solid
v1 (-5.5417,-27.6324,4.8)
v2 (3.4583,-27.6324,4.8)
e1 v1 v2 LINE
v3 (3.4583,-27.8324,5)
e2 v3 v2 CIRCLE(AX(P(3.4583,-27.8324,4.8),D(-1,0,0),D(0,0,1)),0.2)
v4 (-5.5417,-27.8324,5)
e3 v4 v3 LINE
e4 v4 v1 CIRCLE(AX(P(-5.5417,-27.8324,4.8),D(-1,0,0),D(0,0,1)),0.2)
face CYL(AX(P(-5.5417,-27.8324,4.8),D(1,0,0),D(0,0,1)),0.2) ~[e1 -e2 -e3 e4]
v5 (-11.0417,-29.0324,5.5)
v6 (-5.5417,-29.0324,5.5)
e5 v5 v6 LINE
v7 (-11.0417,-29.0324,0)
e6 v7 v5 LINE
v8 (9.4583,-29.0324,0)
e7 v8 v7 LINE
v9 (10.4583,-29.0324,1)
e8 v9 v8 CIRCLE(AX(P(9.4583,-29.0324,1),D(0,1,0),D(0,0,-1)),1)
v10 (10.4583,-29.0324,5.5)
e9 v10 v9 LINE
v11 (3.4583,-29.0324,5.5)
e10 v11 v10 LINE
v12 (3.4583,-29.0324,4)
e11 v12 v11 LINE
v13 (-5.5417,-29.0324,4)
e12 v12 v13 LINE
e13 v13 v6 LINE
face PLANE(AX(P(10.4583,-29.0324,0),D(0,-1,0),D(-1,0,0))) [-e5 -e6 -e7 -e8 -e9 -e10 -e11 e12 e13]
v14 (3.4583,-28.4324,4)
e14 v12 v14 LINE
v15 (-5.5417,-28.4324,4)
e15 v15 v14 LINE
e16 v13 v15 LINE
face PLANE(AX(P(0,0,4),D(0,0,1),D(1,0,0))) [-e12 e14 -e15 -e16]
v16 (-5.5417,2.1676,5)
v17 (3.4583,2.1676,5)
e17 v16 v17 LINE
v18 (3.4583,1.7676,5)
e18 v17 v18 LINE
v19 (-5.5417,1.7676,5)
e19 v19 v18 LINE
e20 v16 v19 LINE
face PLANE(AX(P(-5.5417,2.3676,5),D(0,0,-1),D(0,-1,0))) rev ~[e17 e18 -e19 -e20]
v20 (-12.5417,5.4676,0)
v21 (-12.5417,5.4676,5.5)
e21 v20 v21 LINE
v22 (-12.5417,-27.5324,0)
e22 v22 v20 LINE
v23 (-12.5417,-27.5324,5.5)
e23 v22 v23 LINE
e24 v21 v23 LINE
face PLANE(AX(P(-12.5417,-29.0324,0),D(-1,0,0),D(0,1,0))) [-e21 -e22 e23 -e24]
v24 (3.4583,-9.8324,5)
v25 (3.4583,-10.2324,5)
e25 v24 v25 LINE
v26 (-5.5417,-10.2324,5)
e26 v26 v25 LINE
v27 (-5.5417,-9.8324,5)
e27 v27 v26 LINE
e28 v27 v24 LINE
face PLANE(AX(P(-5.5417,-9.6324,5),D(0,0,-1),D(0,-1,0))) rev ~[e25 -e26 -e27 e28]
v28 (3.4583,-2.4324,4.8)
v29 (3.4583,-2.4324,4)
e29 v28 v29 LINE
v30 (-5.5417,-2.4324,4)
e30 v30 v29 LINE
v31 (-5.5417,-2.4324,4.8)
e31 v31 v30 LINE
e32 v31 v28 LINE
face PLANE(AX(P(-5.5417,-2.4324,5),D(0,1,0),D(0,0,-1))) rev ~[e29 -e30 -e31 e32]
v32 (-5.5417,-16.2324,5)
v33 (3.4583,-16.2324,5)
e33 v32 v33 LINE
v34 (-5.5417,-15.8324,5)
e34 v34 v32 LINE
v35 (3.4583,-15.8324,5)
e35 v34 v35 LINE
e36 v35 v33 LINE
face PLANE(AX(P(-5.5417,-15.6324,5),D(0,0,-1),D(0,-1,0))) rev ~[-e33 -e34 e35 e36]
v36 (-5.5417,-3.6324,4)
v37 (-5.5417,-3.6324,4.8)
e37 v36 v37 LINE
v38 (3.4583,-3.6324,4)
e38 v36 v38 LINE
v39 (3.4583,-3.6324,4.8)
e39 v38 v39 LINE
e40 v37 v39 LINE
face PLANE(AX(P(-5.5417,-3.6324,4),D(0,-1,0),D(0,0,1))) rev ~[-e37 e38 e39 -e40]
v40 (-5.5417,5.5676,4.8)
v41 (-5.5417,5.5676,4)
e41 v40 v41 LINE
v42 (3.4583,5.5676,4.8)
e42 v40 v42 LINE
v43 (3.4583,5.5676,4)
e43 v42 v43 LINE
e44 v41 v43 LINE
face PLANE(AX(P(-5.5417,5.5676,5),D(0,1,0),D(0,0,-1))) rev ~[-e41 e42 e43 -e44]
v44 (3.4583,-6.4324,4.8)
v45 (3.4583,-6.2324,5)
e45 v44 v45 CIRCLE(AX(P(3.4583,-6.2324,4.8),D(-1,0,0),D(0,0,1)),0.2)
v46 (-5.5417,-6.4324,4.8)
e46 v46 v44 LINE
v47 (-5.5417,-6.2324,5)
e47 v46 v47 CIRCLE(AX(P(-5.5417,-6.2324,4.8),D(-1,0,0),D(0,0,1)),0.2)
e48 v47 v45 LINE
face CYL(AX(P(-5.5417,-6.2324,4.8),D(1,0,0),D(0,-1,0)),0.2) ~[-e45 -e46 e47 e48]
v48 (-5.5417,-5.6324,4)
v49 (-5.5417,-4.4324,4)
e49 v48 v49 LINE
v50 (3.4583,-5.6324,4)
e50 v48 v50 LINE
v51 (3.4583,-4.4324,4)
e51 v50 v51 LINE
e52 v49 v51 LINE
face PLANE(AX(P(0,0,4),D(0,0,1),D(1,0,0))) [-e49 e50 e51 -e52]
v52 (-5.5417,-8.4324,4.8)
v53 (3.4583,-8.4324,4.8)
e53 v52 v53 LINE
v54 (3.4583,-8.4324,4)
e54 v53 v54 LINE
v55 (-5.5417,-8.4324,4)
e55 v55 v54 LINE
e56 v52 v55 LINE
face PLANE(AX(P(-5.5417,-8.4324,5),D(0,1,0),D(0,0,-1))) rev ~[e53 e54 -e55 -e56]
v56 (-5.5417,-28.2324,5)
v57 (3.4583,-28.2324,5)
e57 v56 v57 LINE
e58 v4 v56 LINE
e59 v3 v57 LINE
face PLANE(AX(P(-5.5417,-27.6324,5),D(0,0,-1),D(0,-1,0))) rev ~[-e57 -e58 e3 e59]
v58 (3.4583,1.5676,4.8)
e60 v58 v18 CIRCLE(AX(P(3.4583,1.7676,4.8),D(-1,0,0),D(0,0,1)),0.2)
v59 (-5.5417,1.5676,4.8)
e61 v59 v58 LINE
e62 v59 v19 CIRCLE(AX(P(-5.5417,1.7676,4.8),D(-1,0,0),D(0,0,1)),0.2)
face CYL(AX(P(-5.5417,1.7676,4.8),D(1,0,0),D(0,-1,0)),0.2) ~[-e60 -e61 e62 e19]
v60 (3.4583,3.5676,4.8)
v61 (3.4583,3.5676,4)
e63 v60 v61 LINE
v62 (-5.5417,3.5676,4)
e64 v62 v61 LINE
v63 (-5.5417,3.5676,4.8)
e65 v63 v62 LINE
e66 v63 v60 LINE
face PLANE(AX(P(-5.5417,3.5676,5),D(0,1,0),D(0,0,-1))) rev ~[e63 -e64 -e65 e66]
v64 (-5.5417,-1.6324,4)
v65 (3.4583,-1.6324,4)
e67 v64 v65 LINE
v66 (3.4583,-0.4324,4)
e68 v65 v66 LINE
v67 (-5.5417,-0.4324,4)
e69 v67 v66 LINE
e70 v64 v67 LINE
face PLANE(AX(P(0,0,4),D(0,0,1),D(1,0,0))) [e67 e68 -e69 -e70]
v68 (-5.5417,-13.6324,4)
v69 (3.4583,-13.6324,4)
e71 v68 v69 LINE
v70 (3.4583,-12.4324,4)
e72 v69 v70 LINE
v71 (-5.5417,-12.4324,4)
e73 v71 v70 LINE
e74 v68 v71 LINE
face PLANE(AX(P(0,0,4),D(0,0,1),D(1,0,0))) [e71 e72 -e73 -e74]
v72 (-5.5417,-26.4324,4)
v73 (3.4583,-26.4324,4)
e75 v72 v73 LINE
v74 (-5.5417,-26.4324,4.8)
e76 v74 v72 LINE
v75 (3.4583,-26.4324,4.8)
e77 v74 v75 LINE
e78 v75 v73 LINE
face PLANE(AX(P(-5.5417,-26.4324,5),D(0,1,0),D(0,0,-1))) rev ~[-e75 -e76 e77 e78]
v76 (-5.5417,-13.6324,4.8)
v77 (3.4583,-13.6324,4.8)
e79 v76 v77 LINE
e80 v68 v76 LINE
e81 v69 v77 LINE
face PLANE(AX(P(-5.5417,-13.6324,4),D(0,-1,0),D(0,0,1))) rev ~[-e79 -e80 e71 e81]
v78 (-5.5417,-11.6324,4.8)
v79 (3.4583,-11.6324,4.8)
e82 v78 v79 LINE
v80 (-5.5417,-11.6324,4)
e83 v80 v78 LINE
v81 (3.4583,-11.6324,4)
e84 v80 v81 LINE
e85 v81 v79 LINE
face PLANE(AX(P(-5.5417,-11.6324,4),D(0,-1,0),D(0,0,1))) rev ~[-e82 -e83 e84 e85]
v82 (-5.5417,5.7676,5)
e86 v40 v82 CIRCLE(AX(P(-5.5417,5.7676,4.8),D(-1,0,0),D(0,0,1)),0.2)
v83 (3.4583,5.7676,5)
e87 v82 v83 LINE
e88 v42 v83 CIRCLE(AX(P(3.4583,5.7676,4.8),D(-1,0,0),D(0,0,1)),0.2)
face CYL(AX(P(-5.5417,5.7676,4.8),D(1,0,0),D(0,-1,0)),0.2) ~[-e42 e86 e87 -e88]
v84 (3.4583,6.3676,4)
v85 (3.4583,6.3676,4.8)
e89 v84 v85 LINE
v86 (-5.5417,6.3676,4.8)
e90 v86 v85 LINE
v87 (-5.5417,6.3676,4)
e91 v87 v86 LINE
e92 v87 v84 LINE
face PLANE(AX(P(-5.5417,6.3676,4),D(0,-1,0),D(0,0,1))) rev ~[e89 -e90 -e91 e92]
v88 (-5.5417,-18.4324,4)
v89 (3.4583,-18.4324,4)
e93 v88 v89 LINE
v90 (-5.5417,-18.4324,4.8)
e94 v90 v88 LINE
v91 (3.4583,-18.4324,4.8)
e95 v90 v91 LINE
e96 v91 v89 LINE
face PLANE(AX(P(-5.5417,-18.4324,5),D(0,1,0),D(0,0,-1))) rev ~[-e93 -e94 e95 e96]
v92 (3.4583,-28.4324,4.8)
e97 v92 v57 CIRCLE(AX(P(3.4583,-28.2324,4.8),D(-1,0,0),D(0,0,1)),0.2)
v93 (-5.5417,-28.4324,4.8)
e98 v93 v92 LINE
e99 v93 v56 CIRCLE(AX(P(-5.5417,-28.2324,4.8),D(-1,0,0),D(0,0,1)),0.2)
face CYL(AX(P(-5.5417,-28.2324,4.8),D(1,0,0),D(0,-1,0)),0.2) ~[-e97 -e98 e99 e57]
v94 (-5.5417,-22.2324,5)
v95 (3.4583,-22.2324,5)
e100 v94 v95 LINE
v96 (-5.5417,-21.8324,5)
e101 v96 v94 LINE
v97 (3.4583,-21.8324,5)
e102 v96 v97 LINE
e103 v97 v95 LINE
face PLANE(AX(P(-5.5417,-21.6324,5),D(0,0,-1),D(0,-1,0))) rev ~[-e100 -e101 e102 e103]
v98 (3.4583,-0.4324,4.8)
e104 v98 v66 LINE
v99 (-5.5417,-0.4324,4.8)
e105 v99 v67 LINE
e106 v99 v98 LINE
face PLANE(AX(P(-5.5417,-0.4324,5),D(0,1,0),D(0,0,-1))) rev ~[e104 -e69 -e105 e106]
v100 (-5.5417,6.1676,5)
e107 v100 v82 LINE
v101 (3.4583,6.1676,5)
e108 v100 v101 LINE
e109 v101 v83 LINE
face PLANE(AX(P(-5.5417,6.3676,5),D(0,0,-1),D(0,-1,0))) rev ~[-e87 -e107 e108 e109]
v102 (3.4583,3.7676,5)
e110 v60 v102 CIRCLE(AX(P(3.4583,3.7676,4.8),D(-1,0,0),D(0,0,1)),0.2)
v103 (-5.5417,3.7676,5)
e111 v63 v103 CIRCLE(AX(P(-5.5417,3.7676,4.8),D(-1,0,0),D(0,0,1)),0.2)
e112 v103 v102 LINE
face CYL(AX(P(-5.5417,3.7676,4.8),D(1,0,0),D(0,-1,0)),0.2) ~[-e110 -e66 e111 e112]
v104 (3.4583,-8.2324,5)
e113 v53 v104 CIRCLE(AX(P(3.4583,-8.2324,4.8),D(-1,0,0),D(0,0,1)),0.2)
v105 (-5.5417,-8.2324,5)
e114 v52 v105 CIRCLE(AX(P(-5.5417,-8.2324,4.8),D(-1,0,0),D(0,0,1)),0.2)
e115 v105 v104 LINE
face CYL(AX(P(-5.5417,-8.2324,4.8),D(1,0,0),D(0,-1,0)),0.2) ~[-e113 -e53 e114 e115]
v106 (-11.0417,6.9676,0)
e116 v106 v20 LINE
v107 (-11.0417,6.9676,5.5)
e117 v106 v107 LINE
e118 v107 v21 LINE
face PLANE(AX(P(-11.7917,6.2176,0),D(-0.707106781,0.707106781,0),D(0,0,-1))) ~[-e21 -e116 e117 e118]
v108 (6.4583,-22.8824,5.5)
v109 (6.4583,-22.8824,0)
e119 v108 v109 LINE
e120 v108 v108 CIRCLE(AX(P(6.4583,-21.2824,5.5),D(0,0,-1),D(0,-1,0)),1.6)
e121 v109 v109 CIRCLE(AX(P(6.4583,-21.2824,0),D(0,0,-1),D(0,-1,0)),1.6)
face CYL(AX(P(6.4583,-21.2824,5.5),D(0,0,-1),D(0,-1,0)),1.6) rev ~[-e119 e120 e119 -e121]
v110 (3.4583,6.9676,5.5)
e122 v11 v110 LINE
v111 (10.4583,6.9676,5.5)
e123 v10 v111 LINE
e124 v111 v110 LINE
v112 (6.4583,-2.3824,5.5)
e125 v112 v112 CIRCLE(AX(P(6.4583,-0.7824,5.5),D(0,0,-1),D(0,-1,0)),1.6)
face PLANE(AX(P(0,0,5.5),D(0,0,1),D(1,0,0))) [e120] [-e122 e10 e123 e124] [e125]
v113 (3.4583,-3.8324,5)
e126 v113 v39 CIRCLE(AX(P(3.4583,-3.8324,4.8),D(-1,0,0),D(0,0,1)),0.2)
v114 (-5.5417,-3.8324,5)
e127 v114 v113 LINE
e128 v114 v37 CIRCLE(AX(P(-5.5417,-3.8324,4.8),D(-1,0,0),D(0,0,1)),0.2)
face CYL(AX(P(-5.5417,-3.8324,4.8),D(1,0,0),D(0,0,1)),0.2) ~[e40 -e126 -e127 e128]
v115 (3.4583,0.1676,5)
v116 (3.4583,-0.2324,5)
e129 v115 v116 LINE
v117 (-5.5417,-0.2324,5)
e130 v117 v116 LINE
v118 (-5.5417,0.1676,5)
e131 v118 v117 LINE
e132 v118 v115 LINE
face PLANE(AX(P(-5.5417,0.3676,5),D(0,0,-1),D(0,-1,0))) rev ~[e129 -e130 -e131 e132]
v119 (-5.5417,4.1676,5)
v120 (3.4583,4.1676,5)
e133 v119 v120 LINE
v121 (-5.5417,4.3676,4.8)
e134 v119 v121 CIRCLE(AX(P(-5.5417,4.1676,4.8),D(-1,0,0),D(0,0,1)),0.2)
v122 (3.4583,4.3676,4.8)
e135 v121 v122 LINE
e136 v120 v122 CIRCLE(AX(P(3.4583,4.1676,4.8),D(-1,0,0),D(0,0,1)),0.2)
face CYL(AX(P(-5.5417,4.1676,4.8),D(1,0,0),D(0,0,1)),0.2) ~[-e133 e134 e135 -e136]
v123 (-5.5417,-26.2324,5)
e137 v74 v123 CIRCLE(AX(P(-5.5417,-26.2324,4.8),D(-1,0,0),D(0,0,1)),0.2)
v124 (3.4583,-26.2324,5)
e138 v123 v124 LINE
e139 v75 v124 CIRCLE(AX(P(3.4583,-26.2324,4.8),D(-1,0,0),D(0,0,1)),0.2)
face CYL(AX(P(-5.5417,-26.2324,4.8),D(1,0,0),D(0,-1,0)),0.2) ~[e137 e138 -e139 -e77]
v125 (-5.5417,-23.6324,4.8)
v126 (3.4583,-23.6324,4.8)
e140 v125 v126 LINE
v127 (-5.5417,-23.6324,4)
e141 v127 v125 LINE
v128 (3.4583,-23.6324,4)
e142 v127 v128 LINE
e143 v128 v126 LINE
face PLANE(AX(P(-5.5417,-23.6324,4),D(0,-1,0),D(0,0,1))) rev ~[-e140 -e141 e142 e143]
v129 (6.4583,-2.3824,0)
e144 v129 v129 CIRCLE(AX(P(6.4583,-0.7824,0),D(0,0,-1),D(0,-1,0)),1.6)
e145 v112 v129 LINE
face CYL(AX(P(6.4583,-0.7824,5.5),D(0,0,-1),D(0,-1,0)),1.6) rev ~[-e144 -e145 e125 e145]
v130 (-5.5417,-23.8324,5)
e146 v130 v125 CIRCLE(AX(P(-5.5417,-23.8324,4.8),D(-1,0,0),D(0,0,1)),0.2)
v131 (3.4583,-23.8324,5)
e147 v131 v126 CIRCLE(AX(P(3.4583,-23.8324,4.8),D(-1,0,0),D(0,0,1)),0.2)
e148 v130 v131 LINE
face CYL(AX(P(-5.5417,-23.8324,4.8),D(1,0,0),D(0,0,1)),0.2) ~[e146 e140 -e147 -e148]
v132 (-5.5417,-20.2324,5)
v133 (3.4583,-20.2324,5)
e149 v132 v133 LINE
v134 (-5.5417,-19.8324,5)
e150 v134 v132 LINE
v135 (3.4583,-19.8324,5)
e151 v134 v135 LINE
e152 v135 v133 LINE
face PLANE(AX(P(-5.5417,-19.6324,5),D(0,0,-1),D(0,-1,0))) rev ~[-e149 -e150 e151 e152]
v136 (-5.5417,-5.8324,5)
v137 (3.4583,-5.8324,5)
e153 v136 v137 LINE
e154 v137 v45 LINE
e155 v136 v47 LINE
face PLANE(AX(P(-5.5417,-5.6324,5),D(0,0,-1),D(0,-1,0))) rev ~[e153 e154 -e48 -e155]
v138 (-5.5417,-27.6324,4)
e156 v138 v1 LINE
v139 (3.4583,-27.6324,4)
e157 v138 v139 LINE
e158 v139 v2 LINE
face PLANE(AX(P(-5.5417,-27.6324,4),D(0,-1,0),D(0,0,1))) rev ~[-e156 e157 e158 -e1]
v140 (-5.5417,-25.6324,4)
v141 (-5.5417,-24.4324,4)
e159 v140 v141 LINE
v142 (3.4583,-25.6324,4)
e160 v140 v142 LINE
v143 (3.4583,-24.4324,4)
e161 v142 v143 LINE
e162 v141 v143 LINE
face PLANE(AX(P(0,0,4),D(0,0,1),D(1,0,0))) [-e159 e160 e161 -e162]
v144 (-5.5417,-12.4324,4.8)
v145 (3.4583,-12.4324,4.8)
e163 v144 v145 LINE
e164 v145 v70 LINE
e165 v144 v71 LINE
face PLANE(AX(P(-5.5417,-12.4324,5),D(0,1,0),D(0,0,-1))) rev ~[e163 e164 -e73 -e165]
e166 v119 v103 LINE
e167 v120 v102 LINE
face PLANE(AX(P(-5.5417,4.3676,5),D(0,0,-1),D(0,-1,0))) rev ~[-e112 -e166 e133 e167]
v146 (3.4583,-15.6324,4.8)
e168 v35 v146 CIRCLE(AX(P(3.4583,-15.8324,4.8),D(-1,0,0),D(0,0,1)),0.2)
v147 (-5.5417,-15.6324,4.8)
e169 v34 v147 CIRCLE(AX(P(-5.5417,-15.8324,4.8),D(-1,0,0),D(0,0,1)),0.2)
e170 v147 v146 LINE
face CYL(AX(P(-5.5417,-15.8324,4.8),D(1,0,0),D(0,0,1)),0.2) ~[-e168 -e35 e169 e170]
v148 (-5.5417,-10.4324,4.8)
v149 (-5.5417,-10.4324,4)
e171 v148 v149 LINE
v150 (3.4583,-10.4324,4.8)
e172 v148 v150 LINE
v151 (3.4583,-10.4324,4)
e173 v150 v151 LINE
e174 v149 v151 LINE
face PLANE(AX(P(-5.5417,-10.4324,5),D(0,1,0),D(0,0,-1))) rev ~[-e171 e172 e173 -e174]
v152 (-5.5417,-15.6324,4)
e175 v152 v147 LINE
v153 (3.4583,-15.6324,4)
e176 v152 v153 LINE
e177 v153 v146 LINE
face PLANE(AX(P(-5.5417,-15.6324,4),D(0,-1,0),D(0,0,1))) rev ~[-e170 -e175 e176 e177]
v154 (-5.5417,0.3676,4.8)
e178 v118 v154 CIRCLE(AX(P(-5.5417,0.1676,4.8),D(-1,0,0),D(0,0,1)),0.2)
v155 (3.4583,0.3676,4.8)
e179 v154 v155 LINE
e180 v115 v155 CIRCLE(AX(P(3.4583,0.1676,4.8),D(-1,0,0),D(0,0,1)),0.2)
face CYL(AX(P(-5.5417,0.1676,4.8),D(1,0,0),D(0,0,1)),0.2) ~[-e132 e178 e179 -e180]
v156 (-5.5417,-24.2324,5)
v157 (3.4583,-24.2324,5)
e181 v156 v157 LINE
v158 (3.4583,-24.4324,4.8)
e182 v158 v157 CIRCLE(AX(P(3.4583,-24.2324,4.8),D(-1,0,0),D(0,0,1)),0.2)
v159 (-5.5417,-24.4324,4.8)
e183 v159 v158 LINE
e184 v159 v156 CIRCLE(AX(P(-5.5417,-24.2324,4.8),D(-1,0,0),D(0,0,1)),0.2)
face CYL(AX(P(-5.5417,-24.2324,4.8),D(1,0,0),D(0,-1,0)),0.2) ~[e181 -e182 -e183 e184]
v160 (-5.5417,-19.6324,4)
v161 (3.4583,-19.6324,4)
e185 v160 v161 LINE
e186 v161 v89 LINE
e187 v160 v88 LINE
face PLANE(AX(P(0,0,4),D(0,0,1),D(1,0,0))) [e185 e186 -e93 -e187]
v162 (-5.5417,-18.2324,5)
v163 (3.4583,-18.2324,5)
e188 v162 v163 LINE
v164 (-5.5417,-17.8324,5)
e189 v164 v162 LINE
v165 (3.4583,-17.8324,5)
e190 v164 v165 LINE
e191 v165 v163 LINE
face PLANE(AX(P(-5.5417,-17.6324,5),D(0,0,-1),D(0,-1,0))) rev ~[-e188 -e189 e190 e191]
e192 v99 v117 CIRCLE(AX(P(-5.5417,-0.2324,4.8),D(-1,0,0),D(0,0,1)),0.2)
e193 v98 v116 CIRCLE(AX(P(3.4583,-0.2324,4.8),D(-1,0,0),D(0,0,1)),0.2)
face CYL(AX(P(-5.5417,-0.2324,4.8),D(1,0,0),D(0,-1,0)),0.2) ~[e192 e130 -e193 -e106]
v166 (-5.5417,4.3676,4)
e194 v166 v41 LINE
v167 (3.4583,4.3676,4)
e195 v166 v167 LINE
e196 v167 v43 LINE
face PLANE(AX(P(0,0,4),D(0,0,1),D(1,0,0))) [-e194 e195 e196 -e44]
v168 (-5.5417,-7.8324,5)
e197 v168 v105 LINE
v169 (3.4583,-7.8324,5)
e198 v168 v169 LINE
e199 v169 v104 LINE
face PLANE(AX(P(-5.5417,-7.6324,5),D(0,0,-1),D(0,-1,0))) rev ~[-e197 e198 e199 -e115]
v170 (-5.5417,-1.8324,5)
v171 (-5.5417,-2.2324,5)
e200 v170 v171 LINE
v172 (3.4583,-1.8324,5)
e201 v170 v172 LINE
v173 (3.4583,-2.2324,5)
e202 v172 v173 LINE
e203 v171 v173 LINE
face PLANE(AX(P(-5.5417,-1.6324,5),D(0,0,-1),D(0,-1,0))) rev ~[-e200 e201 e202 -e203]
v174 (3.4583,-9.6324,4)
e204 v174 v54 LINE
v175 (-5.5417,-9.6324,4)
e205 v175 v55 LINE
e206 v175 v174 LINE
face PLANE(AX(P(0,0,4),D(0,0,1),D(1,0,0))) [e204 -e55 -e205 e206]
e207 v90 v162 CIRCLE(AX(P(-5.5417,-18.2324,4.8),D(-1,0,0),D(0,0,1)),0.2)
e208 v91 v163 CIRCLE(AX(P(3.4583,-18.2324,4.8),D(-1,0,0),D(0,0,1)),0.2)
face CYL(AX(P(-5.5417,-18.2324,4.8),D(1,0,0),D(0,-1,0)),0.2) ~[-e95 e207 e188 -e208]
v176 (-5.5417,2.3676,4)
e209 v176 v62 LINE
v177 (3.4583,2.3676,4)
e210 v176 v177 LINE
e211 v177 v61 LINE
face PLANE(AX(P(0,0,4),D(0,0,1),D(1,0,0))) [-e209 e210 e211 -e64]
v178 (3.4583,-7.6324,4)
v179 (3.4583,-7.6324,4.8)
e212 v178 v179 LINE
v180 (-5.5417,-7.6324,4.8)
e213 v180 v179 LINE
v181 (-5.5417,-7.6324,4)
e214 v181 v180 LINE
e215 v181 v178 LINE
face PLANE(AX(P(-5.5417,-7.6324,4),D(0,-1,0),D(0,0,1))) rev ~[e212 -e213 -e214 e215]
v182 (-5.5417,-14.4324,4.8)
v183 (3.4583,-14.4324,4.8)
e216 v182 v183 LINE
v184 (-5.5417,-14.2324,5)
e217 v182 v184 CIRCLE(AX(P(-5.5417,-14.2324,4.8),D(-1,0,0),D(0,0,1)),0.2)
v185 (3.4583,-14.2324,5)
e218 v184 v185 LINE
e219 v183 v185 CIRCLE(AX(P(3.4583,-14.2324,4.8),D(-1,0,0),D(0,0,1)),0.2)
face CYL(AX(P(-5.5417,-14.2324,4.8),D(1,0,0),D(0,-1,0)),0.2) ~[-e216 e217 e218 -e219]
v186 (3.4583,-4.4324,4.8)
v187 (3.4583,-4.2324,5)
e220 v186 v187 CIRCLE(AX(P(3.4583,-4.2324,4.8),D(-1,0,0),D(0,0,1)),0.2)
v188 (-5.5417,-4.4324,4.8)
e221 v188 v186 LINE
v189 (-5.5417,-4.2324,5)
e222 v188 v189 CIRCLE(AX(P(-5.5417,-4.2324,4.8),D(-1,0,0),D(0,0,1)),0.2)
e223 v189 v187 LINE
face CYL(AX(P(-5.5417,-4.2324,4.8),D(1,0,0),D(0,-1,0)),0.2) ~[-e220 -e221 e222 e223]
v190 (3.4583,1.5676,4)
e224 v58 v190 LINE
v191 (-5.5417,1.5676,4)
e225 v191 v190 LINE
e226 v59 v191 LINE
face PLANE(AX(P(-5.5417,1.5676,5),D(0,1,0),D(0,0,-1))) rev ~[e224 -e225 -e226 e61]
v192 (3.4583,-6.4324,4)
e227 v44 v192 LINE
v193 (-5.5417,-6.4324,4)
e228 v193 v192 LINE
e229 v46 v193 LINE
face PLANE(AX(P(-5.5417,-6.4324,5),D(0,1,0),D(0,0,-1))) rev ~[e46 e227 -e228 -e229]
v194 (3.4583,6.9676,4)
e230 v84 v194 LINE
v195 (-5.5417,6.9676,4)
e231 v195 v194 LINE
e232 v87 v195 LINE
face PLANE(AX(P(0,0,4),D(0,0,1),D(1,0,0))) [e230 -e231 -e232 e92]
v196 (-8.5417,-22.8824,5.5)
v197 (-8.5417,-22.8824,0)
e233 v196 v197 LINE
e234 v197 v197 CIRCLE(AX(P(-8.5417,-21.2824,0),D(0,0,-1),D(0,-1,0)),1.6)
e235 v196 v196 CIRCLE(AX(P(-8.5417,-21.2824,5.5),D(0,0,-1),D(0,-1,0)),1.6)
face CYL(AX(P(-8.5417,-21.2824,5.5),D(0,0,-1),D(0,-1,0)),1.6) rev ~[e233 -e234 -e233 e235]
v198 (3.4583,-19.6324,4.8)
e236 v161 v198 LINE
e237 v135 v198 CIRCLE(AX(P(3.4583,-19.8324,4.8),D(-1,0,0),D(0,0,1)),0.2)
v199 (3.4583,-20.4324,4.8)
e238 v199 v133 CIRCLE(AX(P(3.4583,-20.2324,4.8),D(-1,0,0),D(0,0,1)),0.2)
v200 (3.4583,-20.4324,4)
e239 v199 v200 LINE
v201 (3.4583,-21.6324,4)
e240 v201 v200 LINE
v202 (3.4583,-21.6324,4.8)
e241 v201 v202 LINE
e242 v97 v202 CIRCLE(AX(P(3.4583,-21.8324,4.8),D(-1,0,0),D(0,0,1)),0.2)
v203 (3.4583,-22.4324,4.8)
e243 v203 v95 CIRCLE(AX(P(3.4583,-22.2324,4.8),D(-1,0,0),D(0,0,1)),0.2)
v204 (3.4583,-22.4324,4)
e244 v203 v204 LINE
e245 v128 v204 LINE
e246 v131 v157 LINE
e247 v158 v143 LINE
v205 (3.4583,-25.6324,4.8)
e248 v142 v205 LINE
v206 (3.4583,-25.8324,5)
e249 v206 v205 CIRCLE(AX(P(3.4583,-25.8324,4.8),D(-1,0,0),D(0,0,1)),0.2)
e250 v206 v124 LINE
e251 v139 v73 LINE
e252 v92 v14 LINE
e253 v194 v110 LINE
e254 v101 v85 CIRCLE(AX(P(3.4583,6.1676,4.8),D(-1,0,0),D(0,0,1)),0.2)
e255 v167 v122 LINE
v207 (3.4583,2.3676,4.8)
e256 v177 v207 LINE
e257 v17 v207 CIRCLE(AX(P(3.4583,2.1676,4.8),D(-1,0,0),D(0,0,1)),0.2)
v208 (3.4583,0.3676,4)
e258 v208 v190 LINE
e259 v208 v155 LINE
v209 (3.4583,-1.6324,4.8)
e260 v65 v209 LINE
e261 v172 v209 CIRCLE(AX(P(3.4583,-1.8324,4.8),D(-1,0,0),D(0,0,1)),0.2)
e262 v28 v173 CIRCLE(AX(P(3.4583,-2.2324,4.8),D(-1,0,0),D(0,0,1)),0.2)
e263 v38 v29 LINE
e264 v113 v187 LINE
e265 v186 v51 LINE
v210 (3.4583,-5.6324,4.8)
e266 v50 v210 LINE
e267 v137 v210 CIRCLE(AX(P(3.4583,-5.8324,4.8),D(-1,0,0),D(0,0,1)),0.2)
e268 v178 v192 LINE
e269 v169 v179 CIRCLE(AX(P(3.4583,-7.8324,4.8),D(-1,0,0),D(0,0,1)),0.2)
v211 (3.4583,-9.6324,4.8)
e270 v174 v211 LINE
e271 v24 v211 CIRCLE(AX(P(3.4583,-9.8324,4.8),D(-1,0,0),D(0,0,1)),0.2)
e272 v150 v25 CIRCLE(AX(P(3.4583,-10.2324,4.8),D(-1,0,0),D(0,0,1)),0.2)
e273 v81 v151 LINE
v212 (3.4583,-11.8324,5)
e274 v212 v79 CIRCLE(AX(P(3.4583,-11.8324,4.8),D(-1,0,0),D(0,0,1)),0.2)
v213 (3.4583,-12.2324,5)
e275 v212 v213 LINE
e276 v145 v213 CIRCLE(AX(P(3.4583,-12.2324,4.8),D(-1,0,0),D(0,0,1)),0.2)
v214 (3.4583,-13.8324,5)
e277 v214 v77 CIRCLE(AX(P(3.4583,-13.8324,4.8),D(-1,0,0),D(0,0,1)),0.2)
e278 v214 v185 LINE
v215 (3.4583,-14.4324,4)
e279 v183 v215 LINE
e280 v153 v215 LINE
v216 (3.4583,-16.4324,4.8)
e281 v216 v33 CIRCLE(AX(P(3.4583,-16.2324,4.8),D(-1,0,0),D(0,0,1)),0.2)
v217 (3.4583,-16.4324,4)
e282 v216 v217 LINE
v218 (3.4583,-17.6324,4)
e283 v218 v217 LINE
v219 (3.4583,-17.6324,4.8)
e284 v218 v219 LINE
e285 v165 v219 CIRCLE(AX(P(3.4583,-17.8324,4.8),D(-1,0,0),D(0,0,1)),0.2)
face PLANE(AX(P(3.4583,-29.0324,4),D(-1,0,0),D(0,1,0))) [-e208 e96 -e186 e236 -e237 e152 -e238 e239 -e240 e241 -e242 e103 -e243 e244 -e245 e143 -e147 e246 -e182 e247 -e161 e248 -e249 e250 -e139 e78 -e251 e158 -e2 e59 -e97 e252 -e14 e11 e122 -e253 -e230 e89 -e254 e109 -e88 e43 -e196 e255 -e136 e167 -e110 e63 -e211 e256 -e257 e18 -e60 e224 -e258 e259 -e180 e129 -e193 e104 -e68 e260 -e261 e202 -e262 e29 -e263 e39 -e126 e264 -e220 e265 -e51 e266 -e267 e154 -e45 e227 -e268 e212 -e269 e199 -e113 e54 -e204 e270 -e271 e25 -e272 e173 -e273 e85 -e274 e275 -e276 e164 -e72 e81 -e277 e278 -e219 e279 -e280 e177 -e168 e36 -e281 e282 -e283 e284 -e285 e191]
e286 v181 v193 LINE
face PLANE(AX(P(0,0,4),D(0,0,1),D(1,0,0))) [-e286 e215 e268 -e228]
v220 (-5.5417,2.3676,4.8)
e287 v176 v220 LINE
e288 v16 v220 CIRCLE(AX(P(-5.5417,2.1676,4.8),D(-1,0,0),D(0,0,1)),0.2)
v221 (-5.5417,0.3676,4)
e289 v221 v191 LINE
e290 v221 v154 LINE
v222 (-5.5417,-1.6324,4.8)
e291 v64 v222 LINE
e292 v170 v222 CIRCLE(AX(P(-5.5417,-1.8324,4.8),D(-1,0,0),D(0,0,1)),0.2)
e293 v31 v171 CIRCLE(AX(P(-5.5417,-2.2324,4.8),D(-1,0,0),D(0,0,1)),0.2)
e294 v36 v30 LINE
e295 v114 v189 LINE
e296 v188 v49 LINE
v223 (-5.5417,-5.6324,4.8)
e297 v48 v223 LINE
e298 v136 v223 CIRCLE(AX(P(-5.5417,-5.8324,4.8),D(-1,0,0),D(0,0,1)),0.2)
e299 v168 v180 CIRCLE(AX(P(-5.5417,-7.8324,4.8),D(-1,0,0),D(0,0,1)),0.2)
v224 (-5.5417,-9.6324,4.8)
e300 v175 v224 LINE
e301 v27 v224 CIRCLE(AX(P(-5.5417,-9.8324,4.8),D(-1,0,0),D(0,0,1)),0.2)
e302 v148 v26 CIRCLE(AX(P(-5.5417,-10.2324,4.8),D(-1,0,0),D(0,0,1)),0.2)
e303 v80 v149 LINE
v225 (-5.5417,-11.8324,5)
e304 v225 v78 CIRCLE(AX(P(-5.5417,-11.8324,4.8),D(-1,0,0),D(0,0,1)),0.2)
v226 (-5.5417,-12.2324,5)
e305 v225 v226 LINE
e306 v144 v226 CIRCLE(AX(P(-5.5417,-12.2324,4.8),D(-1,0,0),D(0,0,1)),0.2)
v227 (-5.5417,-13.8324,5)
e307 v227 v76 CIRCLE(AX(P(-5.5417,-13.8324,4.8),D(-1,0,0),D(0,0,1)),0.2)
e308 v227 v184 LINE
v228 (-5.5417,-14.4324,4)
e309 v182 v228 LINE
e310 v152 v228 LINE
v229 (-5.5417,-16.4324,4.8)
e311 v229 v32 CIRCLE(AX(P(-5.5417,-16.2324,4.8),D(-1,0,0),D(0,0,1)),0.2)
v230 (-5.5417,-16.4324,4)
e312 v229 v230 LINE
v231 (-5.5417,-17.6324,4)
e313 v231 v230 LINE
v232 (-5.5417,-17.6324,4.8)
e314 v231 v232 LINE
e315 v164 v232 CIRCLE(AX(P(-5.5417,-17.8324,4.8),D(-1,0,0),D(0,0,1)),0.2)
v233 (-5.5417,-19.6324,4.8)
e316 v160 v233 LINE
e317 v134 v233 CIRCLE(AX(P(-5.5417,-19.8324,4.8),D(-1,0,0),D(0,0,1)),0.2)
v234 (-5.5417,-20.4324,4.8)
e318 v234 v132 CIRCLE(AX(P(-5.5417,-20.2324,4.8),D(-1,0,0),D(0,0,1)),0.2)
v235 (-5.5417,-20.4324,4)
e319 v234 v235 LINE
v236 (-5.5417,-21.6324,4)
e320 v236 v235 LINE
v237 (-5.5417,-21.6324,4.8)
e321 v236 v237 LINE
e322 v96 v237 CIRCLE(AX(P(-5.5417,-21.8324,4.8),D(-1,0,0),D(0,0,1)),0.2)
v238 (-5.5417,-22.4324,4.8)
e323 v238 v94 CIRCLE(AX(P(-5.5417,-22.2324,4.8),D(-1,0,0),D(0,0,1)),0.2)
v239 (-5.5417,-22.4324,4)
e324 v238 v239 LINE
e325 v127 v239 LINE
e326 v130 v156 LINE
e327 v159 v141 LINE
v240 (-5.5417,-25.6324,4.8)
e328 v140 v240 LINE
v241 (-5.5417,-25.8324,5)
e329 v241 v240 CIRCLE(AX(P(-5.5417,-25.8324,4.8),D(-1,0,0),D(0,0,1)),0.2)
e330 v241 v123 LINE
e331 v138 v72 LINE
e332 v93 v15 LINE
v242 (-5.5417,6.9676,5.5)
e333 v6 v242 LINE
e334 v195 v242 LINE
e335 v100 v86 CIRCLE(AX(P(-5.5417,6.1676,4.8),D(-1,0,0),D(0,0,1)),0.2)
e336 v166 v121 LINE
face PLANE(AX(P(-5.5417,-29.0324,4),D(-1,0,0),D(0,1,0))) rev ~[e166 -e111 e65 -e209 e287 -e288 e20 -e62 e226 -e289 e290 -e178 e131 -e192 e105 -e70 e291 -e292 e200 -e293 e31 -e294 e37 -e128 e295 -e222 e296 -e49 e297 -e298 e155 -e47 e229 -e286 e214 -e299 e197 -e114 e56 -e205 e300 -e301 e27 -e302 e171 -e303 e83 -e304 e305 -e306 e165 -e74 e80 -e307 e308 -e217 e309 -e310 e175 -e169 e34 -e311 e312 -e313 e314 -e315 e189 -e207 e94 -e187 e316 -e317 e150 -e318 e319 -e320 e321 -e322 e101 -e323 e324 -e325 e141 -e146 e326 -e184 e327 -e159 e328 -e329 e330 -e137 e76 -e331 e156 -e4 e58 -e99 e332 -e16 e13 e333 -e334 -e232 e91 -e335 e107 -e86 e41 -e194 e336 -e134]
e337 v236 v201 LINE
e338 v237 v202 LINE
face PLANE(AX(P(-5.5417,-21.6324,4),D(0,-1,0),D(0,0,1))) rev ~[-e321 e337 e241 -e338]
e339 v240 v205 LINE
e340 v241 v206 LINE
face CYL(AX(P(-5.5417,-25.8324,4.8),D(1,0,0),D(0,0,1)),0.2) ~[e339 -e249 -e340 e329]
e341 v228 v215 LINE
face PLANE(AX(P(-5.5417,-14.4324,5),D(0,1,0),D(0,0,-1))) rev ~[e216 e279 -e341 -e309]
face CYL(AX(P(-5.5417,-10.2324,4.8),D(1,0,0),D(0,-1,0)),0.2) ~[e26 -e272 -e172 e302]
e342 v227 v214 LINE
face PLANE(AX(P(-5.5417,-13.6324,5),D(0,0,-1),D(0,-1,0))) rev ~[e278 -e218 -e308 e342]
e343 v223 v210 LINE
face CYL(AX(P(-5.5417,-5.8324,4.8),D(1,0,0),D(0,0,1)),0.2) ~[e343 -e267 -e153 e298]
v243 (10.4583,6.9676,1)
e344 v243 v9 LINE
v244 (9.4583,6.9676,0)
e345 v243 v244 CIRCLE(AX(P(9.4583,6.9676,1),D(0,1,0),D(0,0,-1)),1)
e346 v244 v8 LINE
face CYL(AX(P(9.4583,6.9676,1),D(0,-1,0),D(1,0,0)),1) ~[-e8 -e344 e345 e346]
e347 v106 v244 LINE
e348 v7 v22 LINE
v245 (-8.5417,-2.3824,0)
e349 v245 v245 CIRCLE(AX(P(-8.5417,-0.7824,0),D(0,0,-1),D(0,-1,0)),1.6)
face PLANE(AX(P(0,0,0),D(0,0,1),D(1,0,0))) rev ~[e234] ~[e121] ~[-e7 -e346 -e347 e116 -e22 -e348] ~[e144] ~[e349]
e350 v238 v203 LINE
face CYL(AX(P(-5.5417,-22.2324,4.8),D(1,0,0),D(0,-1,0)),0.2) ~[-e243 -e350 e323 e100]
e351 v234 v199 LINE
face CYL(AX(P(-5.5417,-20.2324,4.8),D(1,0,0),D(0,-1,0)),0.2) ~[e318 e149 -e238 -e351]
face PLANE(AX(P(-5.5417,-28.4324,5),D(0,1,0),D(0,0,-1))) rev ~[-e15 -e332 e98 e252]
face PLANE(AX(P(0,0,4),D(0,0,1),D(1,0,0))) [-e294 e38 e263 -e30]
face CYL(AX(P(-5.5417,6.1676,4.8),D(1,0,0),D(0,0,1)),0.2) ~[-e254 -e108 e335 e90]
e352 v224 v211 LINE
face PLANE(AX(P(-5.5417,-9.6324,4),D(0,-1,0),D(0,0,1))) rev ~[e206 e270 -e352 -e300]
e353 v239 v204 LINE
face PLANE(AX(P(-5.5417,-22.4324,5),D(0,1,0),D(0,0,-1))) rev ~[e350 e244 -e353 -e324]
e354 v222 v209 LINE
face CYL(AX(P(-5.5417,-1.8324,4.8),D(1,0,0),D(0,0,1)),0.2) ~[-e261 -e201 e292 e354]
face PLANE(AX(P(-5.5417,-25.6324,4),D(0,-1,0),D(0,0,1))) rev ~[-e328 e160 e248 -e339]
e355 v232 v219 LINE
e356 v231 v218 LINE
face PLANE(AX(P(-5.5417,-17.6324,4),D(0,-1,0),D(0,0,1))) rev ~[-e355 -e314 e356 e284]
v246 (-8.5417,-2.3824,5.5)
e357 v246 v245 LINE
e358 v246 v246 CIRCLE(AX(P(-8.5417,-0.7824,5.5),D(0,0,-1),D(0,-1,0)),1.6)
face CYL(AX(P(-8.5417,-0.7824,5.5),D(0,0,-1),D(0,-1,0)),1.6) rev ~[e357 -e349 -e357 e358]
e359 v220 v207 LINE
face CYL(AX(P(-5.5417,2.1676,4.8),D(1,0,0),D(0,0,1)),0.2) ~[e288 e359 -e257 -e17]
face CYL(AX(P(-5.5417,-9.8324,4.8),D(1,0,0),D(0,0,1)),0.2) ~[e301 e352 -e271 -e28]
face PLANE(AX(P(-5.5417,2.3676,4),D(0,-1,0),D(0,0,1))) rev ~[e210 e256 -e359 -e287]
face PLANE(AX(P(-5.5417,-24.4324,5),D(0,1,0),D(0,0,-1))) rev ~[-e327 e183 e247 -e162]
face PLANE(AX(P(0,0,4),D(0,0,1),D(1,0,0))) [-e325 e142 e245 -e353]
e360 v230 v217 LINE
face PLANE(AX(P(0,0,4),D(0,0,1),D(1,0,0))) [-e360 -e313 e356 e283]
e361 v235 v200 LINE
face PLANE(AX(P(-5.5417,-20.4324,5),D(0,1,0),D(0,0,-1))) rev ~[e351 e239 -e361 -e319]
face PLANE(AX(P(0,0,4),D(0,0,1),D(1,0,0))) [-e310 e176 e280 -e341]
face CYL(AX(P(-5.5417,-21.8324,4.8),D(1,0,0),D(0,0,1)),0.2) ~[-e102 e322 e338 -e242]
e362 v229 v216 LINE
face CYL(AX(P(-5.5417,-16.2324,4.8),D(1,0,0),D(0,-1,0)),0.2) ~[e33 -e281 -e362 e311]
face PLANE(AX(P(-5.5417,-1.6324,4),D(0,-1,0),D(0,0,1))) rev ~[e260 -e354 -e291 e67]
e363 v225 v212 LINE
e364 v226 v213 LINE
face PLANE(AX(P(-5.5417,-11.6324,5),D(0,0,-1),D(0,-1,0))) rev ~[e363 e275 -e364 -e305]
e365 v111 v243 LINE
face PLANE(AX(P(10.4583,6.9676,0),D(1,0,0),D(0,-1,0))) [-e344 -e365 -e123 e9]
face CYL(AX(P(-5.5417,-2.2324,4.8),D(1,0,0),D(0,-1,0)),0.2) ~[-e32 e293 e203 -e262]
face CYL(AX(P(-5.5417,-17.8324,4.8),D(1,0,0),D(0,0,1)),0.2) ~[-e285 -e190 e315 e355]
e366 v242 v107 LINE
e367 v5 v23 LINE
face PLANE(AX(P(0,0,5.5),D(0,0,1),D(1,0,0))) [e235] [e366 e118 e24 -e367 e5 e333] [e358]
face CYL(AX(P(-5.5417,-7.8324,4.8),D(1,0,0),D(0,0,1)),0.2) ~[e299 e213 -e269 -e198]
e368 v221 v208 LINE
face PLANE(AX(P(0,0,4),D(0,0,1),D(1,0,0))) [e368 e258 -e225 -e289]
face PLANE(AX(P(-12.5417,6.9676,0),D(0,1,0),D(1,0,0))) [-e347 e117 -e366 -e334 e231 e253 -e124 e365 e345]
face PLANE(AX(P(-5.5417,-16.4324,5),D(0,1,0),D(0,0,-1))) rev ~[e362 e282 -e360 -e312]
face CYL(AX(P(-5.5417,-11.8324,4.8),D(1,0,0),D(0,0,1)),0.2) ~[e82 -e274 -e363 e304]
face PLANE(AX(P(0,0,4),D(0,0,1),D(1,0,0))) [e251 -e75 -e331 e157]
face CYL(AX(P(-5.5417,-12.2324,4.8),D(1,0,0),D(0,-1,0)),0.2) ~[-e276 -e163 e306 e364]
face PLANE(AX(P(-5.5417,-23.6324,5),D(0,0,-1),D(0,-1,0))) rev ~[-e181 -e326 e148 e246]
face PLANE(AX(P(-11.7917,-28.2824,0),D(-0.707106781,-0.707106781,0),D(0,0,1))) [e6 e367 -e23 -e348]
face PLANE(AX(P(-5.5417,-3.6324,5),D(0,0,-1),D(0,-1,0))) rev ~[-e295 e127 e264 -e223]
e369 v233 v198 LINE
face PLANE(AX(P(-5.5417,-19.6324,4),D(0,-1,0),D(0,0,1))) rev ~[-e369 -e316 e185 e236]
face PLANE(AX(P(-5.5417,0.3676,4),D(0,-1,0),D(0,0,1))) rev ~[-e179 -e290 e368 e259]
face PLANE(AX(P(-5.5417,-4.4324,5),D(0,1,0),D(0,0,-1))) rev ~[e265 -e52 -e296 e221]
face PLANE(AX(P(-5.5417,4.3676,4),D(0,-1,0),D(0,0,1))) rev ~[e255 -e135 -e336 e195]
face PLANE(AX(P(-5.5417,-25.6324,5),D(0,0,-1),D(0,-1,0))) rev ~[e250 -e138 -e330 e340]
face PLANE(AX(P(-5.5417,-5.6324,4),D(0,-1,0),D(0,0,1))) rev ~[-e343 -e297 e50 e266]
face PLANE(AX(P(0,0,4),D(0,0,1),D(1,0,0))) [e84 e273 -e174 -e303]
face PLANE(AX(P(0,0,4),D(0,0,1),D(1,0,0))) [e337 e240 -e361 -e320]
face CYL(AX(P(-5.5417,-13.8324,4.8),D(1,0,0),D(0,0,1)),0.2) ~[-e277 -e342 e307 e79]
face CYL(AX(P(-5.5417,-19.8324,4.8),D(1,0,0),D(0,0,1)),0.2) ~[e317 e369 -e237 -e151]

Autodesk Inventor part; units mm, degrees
ref_plane "YZ Plane" through (0, 0, 0) normal (1, 0, 0) x (0, 1, 0)
ref_plane "XZ Plane" through (0, 0, 0) normal (0, 1, 0) x (-1, 0, 0)
ref_plane "XY Plane" through (0, 0, 0) normal (0, 0, 1) x (1, 0, 0)
sketch "Szkic1" plane through (0, 0, 0) normal (0, 0, 1) x (1, 0, 0)
  line L0 (-12.5417, 6.9676) -> (10.4583, 6.9676)
  line L1 (10.4583, 6.9676) -> (10.4583, -29.0324)
  line L2 (10.4583, -29.0324) -> (-12.5417, -29.0324)
  line L3 (-12.5417, -29.0324) -> (-12.5417, 6.9676)
  point P0 (0, 0)
  dimension "d0" = 23
  dimension "d1" = 36
extrude "Wyciągnięcie proste1" add sketch "Szkic1" along normal blind 4
fillet "Zaokrąglenie1" radius 1 1 edges at (10.4583, -11.0324, 0)
sketch "Szkic2" plane through (0, 0, 4) normal (0, 0, 1) x (1, 0, 0)
  line L0 (10.4583, 6.9676) -> (-12.5417, 6.9676) projected
  line L1 (-12.5417, 6.9676) -> (-12.5417, -29.0324) projected
  line L2 (-12.5417, -29.0324) -> (10.4583, -29.0324) projected
  line L3 (10.4583, -29.0324) -> (10.4583, 6.9676) projected
  line L4 (-5.5417, -29.0324) -> (-5.5417, 6.9676)
  line L5 (3.4583, -29.0324) -> (3.4583, 6.9676)
  point P0 (0, 0)
  dimension "d5" = 9
  dimension "d6" = 23
  dimension "d7" = 7
extrude "Wyciągnięcie proste2" add sketch "Szkic2" along normal blind 1.5 contours L3 L2 L5 L0 | L4 L2 L1 L0
sketch "Szkic3" plane through (-5.5417, -29.0324, 4) normal (1, 0, 0) x (0, 0, -1)
  line L0 (4, 0) -> (4, 36) projected
  line L1 (4, 0) -> (-1.5, 0) projected
  line L2 (-1.5, 36) -> (-1.5, 0) projected
  line L3 (4, 36) -> (-1.5, 36) projected
  line L4 (-1, 0.6) -> (0, 0.6)
  line L5 (0, 0.6) -> (0, 1.4)
  line L6 (0, 1.4) -> (-1, 1.4)
  line L7 (-1, 1.4) -> (-1, 0.6)
  point P0 (4, 29.0324)
  dimension "d62" = 1
  dimension "d63" = 0.8
  dimension "d64" = 0.5
  dimension "d65" = 0.6
extrude "Wyciągnięcie proste3" add sketch "Szkic3" along normal blind 9 contours L7 L6 L5 L4
fillet "Zaokrąglenie2" radius 0.2 2 edges at (-1.0417, -28.4324, 5) (-1.0417, -27.6324, 5)
chamfer "Faza1" distance 1.5 angle 45 2 edges at (-12.5417, 6.9676, 2.75) (-12.5417, -29.0324, 2.75)
sketch "Szkic4" plane through (0, 0, 5.5) normal (0, 0, 1) x (1, 0, 0)
  line L0 (-11.0417, -29.0324) -> (-12.5417, -27.5324) projected
  line L1 (3.4583, -29.0324) -> (10.4583, -29.0324) projected
  line L2 (10.4583, -29.0324) -> (10.4583, 6.9676) projected
  line L3 (10.4583, 6.9676) -> (3.4583, 6.9676) projected
  line L4 (-5.5417, 6.9676) -> (-11.0417, 6.9676) projected
  line L5 (-12.5417, 5.4676) -> (-11.0417, 6.9676) projected
  line L6 (-12.5417, 5.4676) -> (-12.5417, -27.5324) projected
  line L7 (9.4583, -29.0324) -> (9.4583, 6.9676) projected
  line L8 (3.4583, 6.9676) -> (3.4583, -29.0324) projected
  line L9 (-11.0417, -29.0324) -> (-5.5417, -29.0324) projected
  line L10 (-5.5417, -29.0324) -> (-5.5417, 6.9676) projected
  point P0 (0, 0)
  point P1 (6.4583, -0.7824)
  point P2 (-8.5417, -0.7824)
  point P3 (-8.5417, -21.2824)
  point P4 (6.4583, -21.2824)
  dimension "d25" = 4
  dimension "d26" = 4
  dimension "d27" = 4
  dimension "d28" = 7.75
  dimension "d29" = 7.75
  dimension "d30" = 7.75
  dimension "d31" = 4
  dimension "d32" = 7.75
hole "Otwór1" at (6.4583, -0.7824, 5.5) at (-8.5417, -0.7824, 5.5) at (-8.5417, -21.2824, 5.5) at (6.4583, -21.2824, 5.5) direction (0, 0, -1) diameter 3.2 end through all
pattern_linear "Szyk prostokątny1" count 18 spacing 2 along (0, 1, 0) of "Wyciągnięcie proste3", "Zaokrąglenie2"
equation "\"d7\" = -0.5 * d5 + 0.5 * d6"
equation "\"d26\" = d25"
equation "\"d27\" = d25"
equation "\"d29\" = d28"
equation "\"d30\" = d28"
properties part number "3DP_ABS_Y_Axis_GT2_Belt_Clamp"
